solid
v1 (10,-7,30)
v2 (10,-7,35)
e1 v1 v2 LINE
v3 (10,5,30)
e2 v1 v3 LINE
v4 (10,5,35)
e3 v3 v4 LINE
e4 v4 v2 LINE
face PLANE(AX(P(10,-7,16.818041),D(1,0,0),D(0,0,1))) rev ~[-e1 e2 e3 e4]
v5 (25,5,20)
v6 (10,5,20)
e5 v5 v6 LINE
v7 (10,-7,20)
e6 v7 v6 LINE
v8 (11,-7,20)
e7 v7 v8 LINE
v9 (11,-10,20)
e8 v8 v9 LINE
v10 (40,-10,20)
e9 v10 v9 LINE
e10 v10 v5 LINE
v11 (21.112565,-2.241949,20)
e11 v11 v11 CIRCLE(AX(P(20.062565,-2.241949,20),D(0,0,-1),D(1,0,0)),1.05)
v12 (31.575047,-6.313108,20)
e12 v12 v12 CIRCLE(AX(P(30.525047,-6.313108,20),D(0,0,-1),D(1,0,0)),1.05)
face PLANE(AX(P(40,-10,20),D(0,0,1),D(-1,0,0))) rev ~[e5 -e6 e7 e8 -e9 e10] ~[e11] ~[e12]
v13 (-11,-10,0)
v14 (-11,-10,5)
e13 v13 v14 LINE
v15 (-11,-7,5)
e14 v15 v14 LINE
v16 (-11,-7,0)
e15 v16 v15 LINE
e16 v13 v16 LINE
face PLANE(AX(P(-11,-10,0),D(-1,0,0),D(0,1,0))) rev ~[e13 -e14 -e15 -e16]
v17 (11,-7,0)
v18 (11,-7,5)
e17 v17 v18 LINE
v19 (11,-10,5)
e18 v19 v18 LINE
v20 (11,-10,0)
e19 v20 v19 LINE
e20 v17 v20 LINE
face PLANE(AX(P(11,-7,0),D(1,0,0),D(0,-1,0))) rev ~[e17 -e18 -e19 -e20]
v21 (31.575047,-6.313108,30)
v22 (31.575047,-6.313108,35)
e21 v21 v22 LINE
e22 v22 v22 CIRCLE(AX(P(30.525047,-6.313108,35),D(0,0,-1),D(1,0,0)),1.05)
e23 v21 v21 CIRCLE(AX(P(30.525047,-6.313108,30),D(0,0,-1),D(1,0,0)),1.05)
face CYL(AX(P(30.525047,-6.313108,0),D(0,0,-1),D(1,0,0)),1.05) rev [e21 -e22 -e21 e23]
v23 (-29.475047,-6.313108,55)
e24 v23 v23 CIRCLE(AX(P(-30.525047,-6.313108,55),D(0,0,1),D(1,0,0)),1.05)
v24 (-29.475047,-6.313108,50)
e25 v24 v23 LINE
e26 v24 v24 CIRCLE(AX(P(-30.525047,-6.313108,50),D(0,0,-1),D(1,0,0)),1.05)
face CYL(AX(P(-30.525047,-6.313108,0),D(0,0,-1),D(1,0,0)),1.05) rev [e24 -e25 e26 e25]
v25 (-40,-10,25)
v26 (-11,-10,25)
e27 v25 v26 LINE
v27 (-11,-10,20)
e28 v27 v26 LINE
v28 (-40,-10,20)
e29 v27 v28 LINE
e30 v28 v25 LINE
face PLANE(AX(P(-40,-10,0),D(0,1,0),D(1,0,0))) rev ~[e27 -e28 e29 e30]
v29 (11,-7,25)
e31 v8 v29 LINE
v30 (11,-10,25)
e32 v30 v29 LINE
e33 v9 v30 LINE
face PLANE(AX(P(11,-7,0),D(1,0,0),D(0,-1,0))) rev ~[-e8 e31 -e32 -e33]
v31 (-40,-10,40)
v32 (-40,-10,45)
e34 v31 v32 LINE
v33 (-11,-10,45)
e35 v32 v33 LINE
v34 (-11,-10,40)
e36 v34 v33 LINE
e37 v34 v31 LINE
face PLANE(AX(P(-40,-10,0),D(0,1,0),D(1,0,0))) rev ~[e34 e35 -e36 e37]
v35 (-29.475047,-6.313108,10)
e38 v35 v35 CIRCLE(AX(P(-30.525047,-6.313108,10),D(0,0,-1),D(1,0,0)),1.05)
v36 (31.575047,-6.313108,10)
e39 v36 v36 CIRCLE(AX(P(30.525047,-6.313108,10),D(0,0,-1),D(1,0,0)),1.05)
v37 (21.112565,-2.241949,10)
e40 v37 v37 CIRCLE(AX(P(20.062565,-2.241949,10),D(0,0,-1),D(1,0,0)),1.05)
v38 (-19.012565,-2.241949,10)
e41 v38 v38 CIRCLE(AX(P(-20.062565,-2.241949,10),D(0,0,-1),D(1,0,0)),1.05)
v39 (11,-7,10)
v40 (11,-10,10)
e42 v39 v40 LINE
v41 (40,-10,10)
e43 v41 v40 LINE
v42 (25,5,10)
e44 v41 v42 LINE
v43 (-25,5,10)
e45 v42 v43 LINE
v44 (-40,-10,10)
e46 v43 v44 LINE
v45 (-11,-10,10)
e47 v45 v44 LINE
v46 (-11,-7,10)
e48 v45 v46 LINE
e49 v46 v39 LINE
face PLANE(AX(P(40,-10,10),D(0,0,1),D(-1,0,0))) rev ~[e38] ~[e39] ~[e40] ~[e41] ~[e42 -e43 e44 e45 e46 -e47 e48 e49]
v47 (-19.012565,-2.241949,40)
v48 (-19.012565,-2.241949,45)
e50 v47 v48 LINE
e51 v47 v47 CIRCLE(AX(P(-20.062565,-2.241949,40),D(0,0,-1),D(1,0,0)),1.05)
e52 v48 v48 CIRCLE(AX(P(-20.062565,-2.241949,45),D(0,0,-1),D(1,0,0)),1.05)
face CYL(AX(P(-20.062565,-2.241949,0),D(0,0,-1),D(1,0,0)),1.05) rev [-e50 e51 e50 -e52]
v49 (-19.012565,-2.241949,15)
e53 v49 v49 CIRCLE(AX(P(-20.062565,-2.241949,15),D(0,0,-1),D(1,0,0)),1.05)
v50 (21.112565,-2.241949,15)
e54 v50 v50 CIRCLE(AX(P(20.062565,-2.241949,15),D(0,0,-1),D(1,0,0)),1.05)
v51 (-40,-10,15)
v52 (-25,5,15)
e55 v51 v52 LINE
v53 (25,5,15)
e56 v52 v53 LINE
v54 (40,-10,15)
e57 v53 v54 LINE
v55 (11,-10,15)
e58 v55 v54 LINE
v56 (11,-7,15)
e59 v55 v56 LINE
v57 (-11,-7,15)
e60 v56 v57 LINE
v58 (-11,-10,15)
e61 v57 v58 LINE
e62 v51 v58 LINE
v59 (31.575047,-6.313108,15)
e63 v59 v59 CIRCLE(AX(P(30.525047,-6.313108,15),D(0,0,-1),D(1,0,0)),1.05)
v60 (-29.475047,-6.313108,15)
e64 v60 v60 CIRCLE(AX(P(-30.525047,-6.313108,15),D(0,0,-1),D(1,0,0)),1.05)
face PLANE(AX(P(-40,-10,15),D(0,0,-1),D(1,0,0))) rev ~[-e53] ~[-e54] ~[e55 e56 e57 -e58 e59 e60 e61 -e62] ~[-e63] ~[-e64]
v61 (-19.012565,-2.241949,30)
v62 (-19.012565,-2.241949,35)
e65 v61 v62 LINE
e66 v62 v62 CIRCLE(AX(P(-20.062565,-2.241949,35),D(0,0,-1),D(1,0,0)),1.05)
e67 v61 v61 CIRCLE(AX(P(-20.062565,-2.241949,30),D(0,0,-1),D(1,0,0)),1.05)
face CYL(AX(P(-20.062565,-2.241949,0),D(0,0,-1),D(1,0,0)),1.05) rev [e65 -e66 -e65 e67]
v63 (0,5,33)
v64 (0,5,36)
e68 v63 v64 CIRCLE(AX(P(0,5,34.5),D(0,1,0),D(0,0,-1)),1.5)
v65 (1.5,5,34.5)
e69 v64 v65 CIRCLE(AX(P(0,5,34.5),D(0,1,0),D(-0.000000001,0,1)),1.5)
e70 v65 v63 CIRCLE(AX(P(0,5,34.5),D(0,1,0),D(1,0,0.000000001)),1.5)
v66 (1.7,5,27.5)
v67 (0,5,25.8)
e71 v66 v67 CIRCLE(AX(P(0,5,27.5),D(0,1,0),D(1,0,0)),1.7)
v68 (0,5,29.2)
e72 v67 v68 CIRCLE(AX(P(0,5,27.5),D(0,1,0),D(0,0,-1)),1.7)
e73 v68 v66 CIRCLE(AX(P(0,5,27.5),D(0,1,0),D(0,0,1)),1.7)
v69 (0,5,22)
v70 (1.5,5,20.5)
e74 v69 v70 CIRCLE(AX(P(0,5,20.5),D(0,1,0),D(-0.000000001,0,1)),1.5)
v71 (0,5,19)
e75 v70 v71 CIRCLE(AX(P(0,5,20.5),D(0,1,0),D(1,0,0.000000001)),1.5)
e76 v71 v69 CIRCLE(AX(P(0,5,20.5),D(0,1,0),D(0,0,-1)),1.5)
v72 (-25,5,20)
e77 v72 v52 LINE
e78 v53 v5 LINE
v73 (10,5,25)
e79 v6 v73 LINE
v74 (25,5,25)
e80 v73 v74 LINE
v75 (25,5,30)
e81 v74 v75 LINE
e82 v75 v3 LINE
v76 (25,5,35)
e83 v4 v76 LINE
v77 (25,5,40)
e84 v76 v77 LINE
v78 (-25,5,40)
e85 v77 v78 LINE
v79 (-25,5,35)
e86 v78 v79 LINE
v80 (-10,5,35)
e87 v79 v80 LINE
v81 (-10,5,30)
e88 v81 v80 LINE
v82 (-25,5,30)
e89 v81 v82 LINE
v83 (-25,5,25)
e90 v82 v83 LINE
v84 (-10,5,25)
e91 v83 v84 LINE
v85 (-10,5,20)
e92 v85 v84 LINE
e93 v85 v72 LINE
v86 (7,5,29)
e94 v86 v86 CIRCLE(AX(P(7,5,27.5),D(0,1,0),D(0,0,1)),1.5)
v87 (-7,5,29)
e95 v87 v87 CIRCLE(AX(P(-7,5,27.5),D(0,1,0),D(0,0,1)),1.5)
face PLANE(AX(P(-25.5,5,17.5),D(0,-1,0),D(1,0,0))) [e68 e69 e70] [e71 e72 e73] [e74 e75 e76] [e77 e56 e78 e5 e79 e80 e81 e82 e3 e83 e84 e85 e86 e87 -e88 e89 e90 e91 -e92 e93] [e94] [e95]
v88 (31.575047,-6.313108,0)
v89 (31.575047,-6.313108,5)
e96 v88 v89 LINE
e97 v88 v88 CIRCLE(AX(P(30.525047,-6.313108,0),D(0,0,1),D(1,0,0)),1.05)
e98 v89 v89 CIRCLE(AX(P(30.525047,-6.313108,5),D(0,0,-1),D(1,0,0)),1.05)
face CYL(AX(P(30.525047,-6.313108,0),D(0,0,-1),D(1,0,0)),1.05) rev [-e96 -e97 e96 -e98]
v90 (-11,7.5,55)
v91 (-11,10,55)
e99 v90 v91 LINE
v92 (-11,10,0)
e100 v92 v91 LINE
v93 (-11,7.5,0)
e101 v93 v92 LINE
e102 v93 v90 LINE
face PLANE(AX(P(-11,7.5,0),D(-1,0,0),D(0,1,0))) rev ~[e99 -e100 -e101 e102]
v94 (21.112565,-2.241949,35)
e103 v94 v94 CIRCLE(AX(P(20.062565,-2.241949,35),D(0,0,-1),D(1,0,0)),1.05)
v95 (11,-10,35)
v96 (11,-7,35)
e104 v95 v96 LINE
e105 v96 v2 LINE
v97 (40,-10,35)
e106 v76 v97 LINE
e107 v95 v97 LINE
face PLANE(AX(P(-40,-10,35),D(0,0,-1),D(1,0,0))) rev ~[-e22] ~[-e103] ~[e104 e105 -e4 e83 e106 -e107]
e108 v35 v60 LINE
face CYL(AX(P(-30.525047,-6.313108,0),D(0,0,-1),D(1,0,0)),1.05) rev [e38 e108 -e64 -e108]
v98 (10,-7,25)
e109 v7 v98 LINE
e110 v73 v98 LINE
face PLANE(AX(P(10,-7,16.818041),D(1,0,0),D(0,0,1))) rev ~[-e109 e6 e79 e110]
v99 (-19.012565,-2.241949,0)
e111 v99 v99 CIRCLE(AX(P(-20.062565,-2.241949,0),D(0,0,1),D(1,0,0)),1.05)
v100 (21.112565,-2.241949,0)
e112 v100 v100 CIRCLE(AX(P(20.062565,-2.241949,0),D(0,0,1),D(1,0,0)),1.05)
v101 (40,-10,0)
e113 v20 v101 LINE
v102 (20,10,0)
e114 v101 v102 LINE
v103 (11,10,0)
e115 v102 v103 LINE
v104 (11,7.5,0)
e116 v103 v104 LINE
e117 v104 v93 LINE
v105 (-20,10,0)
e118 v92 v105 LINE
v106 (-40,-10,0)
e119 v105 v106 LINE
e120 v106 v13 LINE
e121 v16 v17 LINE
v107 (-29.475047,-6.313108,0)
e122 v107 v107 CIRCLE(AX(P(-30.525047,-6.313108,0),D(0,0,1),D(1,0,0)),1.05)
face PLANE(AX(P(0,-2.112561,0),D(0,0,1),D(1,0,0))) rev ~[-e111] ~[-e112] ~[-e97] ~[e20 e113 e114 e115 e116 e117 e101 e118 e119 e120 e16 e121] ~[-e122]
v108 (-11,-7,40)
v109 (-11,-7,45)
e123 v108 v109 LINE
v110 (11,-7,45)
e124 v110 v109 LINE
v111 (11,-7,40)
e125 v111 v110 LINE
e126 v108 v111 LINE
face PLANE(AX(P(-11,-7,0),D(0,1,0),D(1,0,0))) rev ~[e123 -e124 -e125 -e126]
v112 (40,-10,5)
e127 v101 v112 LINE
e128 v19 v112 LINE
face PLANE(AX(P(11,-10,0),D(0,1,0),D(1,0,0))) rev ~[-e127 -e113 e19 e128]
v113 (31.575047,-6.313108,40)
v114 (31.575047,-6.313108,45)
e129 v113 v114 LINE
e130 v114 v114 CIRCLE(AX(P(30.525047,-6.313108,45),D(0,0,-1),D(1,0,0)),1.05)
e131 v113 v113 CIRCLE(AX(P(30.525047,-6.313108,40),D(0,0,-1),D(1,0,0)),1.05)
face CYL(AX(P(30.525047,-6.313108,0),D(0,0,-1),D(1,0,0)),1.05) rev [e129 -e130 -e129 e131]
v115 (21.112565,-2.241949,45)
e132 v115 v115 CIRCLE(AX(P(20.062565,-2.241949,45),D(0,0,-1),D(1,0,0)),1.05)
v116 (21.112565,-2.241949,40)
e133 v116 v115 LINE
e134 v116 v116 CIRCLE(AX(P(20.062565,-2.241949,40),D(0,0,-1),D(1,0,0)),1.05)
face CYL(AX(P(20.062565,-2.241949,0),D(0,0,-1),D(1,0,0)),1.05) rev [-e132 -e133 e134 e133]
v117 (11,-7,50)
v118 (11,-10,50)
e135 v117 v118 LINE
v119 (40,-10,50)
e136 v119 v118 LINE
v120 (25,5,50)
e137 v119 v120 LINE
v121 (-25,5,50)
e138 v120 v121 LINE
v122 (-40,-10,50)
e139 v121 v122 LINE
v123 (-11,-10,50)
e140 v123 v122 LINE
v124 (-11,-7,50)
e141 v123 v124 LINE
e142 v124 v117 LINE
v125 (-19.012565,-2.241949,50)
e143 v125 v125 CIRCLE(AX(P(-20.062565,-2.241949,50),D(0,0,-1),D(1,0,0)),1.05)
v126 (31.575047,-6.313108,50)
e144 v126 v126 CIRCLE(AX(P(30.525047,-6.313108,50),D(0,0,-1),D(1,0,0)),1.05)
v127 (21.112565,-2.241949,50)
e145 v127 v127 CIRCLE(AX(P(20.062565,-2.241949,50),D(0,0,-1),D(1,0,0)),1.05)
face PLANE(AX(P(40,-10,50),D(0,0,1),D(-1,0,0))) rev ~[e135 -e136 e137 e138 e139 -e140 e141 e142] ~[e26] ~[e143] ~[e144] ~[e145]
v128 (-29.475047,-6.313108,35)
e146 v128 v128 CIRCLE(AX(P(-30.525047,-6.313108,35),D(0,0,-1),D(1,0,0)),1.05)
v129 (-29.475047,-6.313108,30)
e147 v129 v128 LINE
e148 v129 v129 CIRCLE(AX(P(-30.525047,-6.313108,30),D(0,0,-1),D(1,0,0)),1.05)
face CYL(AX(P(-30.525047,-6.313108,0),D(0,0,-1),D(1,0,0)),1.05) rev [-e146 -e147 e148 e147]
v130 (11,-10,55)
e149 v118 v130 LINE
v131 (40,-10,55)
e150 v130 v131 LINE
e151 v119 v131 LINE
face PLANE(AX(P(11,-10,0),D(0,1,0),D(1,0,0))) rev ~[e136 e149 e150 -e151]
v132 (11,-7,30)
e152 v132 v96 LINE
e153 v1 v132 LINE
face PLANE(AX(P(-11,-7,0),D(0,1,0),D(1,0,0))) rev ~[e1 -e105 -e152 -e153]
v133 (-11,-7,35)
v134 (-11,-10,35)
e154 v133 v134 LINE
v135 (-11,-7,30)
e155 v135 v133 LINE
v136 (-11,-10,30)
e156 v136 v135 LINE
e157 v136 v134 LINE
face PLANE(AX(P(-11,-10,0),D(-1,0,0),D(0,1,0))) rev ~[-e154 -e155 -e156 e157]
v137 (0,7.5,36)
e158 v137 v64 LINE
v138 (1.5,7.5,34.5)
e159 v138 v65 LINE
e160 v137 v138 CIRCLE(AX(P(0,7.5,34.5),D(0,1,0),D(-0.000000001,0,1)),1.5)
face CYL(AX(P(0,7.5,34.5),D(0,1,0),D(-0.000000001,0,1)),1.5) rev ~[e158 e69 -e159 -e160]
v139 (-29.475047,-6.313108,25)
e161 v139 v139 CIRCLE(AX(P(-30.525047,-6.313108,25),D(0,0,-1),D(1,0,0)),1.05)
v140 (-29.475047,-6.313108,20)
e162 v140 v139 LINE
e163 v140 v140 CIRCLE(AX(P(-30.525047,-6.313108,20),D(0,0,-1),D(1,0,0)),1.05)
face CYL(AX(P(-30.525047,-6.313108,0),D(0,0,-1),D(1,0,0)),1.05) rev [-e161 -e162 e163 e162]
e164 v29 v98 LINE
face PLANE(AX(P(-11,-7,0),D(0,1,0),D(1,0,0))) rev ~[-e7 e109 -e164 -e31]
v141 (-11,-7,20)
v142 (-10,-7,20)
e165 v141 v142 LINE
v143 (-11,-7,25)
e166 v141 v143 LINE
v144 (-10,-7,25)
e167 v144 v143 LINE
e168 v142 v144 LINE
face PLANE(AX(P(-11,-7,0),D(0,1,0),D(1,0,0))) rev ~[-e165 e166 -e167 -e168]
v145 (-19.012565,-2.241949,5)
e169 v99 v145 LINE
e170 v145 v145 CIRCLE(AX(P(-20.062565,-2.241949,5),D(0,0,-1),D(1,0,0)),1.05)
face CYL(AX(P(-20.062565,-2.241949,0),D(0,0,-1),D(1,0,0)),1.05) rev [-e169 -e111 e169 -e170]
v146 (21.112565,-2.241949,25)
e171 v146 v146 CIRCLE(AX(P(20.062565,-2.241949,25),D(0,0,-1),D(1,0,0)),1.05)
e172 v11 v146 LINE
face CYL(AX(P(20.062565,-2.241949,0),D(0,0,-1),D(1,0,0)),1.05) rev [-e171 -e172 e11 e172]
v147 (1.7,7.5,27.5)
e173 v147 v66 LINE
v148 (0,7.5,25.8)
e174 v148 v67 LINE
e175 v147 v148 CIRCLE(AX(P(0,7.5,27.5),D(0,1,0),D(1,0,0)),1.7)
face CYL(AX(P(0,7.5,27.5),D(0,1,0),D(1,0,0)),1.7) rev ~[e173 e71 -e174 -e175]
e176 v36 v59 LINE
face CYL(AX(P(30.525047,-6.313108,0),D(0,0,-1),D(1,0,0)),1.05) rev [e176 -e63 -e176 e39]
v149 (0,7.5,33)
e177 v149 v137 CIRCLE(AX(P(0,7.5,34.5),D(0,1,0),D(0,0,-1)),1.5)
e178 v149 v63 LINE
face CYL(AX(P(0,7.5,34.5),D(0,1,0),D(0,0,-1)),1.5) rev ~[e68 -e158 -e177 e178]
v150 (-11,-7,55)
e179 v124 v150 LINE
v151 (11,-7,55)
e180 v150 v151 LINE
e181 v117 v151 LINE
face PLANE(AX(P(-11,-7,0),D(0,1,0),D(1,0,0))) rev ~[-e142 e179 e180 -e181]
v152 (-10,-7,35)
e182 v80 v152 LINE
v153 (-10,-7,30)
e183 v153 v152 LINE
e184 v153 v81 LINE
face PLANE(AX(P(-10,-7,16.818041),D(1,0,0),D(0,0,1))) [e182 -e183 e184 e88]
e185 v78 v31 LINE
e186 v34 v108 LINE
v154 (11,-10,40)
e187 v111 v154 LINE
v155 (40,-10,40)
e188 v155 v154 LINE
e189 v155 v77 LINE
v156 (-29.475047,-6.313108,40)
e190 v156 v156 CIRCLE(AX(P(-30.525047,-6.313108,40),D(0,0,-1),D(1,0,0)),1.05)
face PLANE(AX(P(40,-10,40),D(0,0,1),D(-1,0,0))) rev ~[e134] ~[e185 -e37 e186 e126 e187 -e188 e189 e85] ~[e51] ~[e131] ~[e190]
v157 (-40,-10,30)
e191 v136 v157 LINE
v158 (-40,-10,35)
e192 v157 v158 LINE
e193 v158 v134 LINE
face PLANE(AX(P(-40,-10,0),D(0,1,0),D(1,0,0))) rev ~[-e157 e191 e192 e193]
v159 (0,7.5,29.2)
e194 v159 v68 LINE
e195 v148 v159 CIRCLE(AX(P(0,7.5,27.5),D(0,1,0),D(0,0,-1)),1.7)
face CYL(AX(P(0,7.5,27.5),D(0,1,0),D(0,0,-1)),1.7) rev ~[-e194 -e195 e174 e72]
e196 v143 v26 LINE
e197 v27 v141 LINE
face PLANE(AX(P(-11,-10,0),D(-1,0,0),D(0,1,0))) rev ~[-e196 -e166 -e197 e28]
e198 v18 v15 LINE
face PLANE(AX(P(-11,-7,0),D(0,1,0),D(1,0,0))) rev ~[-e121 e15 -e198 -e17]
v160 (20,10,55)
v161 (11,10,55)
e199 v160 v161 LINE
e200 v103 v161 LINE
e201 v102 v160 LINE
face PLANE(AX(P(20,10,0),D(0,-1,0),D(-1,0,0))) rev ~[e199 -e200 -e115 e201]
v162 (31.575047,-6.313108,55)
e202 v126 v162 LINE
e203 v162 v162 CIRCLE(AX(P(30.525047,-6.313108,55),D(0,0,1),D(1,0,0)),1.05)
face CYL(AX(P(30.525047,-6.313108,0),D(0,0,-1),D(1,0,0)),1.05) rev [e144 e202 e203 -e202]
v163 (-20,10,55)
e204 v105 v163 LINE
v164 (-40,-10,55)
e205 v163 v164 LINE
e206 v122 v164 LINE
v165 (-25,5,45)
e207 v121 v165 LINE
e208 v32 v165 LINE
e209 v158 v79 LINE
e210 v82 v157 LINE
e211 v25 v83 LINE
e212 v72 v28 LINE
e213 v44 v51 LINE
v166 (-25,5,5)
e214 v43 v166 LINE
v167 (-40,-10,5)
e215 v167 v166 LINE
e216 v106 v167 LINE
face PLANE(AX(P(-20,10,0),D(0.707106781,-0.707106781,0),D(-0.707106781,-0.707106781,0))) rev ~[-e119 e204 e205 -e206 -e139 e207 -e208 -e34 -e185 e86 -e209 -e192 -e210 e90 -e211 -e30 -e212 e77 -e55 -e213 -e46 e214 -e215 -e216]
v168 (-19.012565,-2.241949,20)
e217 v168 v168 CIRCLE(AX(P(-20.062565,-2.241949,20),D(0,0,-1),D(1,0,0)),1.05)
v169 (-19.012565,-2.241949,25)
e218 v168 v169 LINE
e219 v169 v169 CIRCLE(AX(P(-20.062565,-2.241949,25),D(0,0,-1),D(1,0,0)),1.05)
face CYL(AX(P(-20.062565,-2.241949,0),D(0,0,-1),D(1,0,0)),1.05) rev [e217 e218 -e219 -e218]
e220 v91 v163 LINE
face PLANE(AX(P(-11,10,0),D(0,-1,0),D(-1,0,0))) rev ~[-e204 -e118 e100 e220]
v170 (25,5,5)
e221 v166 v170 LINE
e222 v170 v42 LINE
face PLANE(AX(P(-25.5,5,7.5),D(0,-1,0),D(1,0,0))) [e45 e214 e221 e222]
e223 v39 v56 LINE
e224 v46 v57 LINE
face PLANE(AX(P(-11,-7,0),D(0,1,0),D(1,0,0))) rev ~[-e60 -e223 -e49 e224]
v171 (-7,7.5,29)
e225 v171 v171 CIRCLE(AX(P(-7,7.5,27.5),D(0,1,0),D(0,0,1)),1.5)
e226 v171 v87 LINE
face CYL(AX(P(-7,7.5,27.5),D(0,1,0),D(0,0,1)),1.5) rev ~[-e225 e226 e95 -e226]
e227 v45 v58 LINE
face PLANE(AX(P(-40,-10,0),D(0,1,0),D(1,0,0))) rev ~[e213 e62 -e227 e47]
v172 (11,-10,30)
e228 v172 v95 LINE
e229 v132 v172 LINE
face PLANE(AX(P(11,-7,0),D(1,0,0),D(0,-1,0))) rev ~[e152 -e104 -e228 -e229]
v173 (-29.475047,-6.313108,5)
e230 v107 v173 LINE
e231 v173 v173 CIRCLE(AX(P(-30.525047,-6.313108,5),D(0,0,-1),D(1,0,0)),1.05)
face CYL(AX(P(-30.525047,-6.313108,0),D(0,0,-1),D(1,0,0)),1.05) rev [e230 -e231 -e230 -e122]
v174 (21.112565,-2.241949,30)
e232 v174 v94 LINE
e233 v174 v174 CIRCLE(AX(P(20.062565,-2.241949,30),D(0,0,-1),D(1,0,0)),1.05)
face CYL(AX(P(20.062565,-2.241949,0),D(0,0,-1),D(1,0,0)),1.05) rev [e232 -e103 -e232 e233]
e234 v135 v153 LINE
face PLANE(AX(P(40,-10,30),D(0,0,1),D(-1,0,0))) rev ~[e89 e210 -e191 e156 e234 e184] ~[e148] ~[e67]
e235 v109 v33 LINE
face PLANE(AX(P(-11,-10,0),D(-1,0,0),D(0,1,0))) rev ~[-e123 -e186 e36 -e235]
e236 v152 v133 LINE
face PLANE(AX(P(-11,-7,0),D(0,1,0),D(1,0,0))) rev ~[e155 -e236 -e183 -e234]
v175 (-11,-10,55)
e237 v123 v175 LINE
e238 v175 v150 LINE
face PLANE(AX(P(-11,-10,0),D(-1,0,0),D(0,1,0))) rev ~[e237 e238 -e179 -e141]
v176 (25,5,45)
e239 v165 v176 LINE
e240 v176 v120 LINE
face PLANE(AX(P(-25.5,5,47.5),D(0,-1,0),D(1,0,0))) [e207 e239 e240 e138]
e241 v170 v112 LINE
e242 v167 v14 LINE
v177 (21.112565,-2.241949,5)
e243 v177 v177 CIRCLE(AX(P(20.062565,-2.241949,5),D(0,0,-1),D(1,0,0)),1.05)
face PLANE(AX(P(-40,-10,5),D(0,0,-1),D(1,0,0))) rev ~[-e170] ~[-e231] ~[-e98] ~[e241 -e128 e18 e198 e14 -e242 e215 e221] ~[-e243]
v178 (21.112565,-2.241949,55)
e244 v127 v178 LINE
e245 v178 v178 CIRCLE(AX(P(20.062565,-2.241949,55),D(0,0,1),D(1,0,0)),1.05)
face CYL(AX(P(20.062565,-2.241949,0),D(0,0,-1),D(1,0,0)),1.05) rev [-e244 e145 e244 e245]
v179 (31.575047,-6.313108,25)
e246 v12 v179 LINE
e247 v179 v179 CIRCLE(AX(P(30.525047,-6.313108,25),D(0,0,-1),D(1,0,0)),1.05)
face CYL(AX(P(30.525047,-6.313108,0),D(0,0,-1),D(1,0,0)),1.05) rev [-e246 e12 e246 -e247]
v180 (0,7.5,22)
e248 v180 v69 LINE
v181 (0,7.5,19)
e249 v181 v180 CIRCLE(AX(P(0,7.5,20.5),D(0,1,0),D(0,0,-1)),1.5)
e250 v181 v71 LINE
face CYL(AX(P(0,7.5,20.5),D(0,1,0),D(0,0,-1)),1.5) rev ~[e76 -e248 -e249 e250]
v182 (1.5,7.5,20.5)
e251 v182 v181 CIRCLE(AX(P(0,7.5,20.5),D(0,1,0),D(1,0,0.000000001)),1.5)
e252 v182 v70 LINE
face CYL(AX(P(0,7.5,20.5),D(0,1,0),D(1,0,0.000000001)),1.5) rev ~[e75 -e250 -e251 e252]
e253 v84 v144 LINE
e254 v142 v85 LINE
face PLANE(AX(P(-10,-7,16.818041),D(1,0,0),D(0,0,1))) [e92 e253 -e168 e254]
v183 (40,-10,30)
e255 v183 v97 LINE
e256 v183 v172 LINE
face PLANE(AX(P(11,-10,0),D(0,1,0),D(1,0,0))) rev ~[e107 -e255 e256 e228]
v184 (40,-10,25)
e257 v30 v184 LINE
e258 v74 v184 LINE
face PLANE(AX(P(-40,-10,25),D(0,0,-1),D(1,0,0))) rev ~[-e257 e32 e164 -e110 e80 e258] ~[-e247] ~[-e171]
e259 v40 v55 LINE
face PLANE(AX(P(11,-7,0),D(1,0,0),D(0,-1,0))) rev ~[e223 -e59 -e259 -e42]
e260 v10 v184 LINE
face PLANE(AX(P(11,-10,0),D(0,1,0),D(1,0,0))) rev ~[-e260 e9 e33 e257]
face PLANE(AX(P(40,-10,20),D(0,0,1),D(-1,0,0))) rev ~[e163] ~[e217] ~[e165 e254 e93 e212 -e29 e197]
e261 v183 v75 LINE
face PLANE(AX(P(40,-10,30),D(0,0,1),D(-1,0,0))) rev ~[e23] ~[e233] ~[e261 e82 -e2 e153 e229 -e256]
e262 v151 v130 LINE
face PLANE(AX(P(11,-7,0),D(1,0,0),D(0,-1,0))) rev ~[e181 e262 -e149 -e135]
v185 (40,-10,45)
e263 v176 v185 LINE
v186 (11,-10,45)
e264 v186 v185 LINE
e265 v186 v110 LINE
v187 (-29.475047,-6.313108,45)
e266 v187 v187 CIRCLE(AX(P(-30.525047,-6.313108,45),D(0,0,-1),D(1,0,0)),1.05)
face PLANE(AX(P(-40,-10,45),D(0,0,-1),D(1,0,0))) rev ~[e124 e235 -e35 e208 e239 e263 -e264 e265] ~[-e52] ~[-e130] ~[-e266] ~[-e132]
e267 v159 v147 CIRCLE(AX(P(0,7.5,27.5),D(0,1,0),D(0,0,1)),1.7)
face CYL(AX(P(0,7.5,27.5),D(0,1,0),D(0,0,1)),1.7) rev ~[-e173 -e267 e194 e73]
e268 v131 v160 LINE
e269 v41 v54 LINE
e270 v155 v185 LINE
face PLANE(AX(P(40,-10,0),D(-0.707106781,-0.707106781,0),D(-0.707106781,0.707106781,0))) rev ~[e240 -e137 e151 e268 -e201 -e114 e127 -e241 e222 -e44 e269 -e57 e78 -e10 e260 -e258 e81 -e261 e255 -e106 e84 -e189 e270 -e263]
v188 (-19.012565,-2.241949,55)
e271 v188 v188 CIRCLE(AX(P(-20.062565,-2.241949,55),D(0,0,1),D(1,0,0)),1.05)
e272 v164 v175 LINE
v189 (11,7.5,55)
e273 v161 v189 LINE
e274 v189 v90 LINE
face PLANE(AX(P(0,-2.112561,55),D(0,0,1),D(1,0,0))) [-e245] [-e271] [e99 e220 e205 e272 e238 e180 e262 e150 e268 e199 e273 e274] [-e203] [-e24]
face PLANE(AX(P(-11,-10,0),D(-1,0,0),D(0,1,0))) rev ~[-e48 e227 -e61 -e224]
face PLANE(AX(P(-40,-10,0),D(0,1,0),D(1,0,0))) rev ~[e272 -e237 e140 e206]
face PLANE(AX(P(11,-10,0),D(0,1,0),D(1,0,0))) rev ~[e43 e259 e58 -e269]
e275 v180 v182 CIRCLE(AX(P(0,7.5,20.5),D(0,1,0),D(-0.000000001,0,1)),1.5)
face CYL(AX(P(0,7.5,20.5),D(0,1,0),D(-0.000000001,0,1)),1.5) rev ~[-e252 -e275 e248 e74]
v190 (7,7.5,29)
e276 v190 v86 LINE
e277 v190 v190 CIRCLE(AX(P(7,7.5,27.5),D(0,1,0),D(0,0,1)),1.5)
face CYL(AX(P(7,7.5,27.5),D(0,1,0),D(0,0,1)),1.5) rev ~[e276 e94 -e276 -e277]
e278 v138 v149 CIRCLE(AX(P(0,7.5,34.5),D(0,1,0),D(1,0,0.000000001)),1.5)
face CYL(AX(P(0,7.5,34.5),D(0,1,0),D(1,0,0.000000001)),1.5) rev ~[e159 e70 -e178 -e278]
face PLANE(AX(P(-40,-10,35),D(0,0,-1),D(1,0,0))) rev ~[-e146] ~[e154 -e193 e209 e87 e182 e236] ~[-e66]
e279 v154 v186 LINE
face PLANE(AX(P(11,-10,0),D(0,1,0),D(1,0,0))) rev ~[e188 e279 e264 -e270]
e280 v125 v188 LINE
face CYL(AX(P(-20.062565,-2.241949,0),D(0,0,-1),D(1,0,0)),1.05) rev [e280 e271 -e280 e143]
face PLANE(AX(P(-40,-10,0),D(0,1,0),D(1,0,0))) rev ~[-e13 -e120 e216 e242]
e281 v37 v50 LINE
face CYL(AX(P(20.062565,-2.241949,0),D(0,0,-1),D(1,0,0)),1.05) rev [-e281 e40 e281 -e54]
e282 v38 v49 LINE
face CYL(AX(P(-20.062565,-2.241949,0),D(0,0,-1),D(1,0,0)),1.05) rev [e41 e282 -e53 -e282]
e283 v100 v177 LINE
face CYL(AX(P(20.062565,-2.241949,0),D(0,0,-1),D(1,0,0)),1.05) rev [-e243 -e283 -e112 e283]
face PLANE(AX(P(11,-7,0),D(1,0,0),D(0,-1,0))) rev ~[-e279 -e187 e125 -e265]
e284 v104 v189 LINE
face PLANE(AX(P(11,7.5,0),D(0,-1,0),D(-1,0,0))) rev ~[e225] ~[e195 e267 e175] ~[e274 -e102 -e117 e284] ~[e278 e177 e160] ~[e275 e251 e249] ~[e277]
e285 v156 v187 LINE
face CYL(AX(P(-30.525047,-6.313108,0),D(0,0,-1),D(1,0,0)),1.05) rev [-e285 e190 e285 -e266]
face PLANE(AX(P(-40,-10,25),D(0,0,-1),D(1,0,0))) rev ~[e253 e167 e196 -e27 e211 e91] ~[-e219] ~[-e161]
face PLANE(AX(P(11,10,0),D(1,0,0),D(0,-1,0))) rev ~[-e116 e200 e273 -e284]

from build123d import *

# Parameters (mm, degrees)
SKETCH_1_R          = 1.05
EXTRUDE_1_DEPTH     = 55
SKETCH_2_W          = 51
SKETCH_2_H          = 5
CUT_EXTRUDE_1_DEPTH = 15
SKETCH_3_R          = 1.5
CUT_EXTRUDE_2_DEPTH = 15
SKETCH_4_W          = 20
SKETCH_4_H          = 21.363917142
CUT_EXTRUDE_3_DEPTH = 12


with BuildPart() as part:
    # 草图1 → 凸台-拉伸1 (new body)
    with BuildSketch(Plane.XY):
        Polygon((-11, 10), (-20, 10), (-40, -10), (-11, -10), (-11, -7), (11, -7), (11, -10), (40, -10), (20, 10), (11, 10), (11, 7.5), (-11, 7.5), align=None)
        with Locations((-30.525046877, -6.313107933)):
            Circle(SKETCH_1_R, mode=Mode.SUBTRACT)
        with Locations((-20.062564905, -2.241948818)):
            Circle(SKETCH_1_R, mode=Mode.SUBTRACT)
        with Locations((30.525046877, -6.313107933)):
            Circle(SKETCH_1_R, mode=Mode.SUBTRACT)
        with Locations((20.062564905, -2.241948818)):
            Circle(SKETCH_1_R, mode=Mode.SUBTRACT)
    extrude(amount=EXTRUDE_1_DEPTH)

    # 草图2 → 切除-拉伸1 (cut)
    with BuildSketch(Plane.XZ.offset(10)):
        Polygon((-40, 45), (-25.5, 45), (-11, 45), (-11, 50), (-25.5, 50), (-40, 50), align=None)
        with Locations((14.5, 47.5)):
            Rectangle(SKETCH_2_W, SKETCH_2_H)
        Polygon((-11, 40), (-25.5, 40), (-40, 40), (-40, 35), (-25.5, 35), (-11, 35), align=None)
        with Locations((14.5, 37.5)):
            Rectangle(SKETCH_2_W, SKETCH_2_H)
        Polygon((-25.5, 30), (-40, 30), (-40, 25), (-25.5, 25), (-11, 25), (-11, 30), align=None)
        with Locations((14.5, 27.5)):
            Rectangle(SKETCH_2_W, SKETCH_2_H)
        Polygon((-25.5, 20), (-40, 20), (-40, 15), (-25.5, 15), (-11, 15), (-11, 20), align=None)
        with Locations((14.5, 17.5)):
            Rectangle(SKETCH_2_W, SKETCH_2_H)
        Polygon((-25.5, 10), (-40, 10), (-40, 5), (-25.5, 5), (-11, 5), (-11, 10), align=None)
        with Locations((14.5, 7.5)):
            Rectangle(SKETCH_2_W, SKETCH_2_H)
    extrude(amount=-CUT_EXTRUDE_1_DEPTH, mode=Mode.SUBTRACT)

    # 草图3 → 切除-拉伸2 (cut)
    with BuildSketch(Plane(origin=(0, 7.5, 0), x_dir=(1, 0, 0), z_dir=(0, 1, 0))):
        with BuildLine():
            ThreePointArc((1.5, -20.5), (1.060660172, -19.439339828), (0, -19))
            Line((0, -19), (0, -22))
            ThreePointArc((0, -22), (1.060660172, -21.560660172), (1.5, -20.5))
        make_face()
        with BuildLine():
            Line((0, -22), (0, -19))
            ThreePointArc((0, -19), (-1.5, -20.5), (0, -22))
        make_face()
        with BuildLine():
            ThreePointArc((1.7, -27.5), (1.202081528, -26.297918472), (0, -25.8))
            Line((0, -25.8), (0, -29.2))
            ThreePointArc((0, -29.2), (1.202081528, -28.702081528), (1.7, -27.5))
        make_face()
        with BuildLine():
            Line((0, -29.2), (0, -25.8))
            ThreePointArc((0, -25.8), (-1.7, -27.5), (0, -29.2))
        make_face()
        with Locations(Location((-7, -27.5, 0), (0, 0, 270))):
            Circle(SKETCH_3_R)
        with Locations(Location((7, -27.5, 0), (0, 0, 270))):
            Circle(SKETCH_3_R)
        with BuildLine():
            ThreePointArc((1.5, -34.5), (1.060660172, -33.439339828), (0, -33))
            Line((0, -33), (0, -36))
            ThreePointArc((0, -36), (1.060660172, -35.560660172), (1.5, -34.5))
        make_face()
        with BuildLine():
            Line((0, -36), (0, -33))
            ThreePointArc((0, -33), (-1.5, -34.5), (0, -36))
        make_face()
    extrude(amount=-CUT_EXTRUDE_2_DEPTH, mode=Mode.SUBTRACT)

    # 草图4 → 切除-拉伸3 (cut)
    with BuildSketch(Plane.XZ.offset(7)):
        with Locations((0, 27.5)):
            Rectangle(SKETCH_4_W, SKETCH_4_H)
    extrude(amount=-CUT_EXTRUDE_3_DEPTH, mode=Mode.SUBTRACT)


solid = part.part
